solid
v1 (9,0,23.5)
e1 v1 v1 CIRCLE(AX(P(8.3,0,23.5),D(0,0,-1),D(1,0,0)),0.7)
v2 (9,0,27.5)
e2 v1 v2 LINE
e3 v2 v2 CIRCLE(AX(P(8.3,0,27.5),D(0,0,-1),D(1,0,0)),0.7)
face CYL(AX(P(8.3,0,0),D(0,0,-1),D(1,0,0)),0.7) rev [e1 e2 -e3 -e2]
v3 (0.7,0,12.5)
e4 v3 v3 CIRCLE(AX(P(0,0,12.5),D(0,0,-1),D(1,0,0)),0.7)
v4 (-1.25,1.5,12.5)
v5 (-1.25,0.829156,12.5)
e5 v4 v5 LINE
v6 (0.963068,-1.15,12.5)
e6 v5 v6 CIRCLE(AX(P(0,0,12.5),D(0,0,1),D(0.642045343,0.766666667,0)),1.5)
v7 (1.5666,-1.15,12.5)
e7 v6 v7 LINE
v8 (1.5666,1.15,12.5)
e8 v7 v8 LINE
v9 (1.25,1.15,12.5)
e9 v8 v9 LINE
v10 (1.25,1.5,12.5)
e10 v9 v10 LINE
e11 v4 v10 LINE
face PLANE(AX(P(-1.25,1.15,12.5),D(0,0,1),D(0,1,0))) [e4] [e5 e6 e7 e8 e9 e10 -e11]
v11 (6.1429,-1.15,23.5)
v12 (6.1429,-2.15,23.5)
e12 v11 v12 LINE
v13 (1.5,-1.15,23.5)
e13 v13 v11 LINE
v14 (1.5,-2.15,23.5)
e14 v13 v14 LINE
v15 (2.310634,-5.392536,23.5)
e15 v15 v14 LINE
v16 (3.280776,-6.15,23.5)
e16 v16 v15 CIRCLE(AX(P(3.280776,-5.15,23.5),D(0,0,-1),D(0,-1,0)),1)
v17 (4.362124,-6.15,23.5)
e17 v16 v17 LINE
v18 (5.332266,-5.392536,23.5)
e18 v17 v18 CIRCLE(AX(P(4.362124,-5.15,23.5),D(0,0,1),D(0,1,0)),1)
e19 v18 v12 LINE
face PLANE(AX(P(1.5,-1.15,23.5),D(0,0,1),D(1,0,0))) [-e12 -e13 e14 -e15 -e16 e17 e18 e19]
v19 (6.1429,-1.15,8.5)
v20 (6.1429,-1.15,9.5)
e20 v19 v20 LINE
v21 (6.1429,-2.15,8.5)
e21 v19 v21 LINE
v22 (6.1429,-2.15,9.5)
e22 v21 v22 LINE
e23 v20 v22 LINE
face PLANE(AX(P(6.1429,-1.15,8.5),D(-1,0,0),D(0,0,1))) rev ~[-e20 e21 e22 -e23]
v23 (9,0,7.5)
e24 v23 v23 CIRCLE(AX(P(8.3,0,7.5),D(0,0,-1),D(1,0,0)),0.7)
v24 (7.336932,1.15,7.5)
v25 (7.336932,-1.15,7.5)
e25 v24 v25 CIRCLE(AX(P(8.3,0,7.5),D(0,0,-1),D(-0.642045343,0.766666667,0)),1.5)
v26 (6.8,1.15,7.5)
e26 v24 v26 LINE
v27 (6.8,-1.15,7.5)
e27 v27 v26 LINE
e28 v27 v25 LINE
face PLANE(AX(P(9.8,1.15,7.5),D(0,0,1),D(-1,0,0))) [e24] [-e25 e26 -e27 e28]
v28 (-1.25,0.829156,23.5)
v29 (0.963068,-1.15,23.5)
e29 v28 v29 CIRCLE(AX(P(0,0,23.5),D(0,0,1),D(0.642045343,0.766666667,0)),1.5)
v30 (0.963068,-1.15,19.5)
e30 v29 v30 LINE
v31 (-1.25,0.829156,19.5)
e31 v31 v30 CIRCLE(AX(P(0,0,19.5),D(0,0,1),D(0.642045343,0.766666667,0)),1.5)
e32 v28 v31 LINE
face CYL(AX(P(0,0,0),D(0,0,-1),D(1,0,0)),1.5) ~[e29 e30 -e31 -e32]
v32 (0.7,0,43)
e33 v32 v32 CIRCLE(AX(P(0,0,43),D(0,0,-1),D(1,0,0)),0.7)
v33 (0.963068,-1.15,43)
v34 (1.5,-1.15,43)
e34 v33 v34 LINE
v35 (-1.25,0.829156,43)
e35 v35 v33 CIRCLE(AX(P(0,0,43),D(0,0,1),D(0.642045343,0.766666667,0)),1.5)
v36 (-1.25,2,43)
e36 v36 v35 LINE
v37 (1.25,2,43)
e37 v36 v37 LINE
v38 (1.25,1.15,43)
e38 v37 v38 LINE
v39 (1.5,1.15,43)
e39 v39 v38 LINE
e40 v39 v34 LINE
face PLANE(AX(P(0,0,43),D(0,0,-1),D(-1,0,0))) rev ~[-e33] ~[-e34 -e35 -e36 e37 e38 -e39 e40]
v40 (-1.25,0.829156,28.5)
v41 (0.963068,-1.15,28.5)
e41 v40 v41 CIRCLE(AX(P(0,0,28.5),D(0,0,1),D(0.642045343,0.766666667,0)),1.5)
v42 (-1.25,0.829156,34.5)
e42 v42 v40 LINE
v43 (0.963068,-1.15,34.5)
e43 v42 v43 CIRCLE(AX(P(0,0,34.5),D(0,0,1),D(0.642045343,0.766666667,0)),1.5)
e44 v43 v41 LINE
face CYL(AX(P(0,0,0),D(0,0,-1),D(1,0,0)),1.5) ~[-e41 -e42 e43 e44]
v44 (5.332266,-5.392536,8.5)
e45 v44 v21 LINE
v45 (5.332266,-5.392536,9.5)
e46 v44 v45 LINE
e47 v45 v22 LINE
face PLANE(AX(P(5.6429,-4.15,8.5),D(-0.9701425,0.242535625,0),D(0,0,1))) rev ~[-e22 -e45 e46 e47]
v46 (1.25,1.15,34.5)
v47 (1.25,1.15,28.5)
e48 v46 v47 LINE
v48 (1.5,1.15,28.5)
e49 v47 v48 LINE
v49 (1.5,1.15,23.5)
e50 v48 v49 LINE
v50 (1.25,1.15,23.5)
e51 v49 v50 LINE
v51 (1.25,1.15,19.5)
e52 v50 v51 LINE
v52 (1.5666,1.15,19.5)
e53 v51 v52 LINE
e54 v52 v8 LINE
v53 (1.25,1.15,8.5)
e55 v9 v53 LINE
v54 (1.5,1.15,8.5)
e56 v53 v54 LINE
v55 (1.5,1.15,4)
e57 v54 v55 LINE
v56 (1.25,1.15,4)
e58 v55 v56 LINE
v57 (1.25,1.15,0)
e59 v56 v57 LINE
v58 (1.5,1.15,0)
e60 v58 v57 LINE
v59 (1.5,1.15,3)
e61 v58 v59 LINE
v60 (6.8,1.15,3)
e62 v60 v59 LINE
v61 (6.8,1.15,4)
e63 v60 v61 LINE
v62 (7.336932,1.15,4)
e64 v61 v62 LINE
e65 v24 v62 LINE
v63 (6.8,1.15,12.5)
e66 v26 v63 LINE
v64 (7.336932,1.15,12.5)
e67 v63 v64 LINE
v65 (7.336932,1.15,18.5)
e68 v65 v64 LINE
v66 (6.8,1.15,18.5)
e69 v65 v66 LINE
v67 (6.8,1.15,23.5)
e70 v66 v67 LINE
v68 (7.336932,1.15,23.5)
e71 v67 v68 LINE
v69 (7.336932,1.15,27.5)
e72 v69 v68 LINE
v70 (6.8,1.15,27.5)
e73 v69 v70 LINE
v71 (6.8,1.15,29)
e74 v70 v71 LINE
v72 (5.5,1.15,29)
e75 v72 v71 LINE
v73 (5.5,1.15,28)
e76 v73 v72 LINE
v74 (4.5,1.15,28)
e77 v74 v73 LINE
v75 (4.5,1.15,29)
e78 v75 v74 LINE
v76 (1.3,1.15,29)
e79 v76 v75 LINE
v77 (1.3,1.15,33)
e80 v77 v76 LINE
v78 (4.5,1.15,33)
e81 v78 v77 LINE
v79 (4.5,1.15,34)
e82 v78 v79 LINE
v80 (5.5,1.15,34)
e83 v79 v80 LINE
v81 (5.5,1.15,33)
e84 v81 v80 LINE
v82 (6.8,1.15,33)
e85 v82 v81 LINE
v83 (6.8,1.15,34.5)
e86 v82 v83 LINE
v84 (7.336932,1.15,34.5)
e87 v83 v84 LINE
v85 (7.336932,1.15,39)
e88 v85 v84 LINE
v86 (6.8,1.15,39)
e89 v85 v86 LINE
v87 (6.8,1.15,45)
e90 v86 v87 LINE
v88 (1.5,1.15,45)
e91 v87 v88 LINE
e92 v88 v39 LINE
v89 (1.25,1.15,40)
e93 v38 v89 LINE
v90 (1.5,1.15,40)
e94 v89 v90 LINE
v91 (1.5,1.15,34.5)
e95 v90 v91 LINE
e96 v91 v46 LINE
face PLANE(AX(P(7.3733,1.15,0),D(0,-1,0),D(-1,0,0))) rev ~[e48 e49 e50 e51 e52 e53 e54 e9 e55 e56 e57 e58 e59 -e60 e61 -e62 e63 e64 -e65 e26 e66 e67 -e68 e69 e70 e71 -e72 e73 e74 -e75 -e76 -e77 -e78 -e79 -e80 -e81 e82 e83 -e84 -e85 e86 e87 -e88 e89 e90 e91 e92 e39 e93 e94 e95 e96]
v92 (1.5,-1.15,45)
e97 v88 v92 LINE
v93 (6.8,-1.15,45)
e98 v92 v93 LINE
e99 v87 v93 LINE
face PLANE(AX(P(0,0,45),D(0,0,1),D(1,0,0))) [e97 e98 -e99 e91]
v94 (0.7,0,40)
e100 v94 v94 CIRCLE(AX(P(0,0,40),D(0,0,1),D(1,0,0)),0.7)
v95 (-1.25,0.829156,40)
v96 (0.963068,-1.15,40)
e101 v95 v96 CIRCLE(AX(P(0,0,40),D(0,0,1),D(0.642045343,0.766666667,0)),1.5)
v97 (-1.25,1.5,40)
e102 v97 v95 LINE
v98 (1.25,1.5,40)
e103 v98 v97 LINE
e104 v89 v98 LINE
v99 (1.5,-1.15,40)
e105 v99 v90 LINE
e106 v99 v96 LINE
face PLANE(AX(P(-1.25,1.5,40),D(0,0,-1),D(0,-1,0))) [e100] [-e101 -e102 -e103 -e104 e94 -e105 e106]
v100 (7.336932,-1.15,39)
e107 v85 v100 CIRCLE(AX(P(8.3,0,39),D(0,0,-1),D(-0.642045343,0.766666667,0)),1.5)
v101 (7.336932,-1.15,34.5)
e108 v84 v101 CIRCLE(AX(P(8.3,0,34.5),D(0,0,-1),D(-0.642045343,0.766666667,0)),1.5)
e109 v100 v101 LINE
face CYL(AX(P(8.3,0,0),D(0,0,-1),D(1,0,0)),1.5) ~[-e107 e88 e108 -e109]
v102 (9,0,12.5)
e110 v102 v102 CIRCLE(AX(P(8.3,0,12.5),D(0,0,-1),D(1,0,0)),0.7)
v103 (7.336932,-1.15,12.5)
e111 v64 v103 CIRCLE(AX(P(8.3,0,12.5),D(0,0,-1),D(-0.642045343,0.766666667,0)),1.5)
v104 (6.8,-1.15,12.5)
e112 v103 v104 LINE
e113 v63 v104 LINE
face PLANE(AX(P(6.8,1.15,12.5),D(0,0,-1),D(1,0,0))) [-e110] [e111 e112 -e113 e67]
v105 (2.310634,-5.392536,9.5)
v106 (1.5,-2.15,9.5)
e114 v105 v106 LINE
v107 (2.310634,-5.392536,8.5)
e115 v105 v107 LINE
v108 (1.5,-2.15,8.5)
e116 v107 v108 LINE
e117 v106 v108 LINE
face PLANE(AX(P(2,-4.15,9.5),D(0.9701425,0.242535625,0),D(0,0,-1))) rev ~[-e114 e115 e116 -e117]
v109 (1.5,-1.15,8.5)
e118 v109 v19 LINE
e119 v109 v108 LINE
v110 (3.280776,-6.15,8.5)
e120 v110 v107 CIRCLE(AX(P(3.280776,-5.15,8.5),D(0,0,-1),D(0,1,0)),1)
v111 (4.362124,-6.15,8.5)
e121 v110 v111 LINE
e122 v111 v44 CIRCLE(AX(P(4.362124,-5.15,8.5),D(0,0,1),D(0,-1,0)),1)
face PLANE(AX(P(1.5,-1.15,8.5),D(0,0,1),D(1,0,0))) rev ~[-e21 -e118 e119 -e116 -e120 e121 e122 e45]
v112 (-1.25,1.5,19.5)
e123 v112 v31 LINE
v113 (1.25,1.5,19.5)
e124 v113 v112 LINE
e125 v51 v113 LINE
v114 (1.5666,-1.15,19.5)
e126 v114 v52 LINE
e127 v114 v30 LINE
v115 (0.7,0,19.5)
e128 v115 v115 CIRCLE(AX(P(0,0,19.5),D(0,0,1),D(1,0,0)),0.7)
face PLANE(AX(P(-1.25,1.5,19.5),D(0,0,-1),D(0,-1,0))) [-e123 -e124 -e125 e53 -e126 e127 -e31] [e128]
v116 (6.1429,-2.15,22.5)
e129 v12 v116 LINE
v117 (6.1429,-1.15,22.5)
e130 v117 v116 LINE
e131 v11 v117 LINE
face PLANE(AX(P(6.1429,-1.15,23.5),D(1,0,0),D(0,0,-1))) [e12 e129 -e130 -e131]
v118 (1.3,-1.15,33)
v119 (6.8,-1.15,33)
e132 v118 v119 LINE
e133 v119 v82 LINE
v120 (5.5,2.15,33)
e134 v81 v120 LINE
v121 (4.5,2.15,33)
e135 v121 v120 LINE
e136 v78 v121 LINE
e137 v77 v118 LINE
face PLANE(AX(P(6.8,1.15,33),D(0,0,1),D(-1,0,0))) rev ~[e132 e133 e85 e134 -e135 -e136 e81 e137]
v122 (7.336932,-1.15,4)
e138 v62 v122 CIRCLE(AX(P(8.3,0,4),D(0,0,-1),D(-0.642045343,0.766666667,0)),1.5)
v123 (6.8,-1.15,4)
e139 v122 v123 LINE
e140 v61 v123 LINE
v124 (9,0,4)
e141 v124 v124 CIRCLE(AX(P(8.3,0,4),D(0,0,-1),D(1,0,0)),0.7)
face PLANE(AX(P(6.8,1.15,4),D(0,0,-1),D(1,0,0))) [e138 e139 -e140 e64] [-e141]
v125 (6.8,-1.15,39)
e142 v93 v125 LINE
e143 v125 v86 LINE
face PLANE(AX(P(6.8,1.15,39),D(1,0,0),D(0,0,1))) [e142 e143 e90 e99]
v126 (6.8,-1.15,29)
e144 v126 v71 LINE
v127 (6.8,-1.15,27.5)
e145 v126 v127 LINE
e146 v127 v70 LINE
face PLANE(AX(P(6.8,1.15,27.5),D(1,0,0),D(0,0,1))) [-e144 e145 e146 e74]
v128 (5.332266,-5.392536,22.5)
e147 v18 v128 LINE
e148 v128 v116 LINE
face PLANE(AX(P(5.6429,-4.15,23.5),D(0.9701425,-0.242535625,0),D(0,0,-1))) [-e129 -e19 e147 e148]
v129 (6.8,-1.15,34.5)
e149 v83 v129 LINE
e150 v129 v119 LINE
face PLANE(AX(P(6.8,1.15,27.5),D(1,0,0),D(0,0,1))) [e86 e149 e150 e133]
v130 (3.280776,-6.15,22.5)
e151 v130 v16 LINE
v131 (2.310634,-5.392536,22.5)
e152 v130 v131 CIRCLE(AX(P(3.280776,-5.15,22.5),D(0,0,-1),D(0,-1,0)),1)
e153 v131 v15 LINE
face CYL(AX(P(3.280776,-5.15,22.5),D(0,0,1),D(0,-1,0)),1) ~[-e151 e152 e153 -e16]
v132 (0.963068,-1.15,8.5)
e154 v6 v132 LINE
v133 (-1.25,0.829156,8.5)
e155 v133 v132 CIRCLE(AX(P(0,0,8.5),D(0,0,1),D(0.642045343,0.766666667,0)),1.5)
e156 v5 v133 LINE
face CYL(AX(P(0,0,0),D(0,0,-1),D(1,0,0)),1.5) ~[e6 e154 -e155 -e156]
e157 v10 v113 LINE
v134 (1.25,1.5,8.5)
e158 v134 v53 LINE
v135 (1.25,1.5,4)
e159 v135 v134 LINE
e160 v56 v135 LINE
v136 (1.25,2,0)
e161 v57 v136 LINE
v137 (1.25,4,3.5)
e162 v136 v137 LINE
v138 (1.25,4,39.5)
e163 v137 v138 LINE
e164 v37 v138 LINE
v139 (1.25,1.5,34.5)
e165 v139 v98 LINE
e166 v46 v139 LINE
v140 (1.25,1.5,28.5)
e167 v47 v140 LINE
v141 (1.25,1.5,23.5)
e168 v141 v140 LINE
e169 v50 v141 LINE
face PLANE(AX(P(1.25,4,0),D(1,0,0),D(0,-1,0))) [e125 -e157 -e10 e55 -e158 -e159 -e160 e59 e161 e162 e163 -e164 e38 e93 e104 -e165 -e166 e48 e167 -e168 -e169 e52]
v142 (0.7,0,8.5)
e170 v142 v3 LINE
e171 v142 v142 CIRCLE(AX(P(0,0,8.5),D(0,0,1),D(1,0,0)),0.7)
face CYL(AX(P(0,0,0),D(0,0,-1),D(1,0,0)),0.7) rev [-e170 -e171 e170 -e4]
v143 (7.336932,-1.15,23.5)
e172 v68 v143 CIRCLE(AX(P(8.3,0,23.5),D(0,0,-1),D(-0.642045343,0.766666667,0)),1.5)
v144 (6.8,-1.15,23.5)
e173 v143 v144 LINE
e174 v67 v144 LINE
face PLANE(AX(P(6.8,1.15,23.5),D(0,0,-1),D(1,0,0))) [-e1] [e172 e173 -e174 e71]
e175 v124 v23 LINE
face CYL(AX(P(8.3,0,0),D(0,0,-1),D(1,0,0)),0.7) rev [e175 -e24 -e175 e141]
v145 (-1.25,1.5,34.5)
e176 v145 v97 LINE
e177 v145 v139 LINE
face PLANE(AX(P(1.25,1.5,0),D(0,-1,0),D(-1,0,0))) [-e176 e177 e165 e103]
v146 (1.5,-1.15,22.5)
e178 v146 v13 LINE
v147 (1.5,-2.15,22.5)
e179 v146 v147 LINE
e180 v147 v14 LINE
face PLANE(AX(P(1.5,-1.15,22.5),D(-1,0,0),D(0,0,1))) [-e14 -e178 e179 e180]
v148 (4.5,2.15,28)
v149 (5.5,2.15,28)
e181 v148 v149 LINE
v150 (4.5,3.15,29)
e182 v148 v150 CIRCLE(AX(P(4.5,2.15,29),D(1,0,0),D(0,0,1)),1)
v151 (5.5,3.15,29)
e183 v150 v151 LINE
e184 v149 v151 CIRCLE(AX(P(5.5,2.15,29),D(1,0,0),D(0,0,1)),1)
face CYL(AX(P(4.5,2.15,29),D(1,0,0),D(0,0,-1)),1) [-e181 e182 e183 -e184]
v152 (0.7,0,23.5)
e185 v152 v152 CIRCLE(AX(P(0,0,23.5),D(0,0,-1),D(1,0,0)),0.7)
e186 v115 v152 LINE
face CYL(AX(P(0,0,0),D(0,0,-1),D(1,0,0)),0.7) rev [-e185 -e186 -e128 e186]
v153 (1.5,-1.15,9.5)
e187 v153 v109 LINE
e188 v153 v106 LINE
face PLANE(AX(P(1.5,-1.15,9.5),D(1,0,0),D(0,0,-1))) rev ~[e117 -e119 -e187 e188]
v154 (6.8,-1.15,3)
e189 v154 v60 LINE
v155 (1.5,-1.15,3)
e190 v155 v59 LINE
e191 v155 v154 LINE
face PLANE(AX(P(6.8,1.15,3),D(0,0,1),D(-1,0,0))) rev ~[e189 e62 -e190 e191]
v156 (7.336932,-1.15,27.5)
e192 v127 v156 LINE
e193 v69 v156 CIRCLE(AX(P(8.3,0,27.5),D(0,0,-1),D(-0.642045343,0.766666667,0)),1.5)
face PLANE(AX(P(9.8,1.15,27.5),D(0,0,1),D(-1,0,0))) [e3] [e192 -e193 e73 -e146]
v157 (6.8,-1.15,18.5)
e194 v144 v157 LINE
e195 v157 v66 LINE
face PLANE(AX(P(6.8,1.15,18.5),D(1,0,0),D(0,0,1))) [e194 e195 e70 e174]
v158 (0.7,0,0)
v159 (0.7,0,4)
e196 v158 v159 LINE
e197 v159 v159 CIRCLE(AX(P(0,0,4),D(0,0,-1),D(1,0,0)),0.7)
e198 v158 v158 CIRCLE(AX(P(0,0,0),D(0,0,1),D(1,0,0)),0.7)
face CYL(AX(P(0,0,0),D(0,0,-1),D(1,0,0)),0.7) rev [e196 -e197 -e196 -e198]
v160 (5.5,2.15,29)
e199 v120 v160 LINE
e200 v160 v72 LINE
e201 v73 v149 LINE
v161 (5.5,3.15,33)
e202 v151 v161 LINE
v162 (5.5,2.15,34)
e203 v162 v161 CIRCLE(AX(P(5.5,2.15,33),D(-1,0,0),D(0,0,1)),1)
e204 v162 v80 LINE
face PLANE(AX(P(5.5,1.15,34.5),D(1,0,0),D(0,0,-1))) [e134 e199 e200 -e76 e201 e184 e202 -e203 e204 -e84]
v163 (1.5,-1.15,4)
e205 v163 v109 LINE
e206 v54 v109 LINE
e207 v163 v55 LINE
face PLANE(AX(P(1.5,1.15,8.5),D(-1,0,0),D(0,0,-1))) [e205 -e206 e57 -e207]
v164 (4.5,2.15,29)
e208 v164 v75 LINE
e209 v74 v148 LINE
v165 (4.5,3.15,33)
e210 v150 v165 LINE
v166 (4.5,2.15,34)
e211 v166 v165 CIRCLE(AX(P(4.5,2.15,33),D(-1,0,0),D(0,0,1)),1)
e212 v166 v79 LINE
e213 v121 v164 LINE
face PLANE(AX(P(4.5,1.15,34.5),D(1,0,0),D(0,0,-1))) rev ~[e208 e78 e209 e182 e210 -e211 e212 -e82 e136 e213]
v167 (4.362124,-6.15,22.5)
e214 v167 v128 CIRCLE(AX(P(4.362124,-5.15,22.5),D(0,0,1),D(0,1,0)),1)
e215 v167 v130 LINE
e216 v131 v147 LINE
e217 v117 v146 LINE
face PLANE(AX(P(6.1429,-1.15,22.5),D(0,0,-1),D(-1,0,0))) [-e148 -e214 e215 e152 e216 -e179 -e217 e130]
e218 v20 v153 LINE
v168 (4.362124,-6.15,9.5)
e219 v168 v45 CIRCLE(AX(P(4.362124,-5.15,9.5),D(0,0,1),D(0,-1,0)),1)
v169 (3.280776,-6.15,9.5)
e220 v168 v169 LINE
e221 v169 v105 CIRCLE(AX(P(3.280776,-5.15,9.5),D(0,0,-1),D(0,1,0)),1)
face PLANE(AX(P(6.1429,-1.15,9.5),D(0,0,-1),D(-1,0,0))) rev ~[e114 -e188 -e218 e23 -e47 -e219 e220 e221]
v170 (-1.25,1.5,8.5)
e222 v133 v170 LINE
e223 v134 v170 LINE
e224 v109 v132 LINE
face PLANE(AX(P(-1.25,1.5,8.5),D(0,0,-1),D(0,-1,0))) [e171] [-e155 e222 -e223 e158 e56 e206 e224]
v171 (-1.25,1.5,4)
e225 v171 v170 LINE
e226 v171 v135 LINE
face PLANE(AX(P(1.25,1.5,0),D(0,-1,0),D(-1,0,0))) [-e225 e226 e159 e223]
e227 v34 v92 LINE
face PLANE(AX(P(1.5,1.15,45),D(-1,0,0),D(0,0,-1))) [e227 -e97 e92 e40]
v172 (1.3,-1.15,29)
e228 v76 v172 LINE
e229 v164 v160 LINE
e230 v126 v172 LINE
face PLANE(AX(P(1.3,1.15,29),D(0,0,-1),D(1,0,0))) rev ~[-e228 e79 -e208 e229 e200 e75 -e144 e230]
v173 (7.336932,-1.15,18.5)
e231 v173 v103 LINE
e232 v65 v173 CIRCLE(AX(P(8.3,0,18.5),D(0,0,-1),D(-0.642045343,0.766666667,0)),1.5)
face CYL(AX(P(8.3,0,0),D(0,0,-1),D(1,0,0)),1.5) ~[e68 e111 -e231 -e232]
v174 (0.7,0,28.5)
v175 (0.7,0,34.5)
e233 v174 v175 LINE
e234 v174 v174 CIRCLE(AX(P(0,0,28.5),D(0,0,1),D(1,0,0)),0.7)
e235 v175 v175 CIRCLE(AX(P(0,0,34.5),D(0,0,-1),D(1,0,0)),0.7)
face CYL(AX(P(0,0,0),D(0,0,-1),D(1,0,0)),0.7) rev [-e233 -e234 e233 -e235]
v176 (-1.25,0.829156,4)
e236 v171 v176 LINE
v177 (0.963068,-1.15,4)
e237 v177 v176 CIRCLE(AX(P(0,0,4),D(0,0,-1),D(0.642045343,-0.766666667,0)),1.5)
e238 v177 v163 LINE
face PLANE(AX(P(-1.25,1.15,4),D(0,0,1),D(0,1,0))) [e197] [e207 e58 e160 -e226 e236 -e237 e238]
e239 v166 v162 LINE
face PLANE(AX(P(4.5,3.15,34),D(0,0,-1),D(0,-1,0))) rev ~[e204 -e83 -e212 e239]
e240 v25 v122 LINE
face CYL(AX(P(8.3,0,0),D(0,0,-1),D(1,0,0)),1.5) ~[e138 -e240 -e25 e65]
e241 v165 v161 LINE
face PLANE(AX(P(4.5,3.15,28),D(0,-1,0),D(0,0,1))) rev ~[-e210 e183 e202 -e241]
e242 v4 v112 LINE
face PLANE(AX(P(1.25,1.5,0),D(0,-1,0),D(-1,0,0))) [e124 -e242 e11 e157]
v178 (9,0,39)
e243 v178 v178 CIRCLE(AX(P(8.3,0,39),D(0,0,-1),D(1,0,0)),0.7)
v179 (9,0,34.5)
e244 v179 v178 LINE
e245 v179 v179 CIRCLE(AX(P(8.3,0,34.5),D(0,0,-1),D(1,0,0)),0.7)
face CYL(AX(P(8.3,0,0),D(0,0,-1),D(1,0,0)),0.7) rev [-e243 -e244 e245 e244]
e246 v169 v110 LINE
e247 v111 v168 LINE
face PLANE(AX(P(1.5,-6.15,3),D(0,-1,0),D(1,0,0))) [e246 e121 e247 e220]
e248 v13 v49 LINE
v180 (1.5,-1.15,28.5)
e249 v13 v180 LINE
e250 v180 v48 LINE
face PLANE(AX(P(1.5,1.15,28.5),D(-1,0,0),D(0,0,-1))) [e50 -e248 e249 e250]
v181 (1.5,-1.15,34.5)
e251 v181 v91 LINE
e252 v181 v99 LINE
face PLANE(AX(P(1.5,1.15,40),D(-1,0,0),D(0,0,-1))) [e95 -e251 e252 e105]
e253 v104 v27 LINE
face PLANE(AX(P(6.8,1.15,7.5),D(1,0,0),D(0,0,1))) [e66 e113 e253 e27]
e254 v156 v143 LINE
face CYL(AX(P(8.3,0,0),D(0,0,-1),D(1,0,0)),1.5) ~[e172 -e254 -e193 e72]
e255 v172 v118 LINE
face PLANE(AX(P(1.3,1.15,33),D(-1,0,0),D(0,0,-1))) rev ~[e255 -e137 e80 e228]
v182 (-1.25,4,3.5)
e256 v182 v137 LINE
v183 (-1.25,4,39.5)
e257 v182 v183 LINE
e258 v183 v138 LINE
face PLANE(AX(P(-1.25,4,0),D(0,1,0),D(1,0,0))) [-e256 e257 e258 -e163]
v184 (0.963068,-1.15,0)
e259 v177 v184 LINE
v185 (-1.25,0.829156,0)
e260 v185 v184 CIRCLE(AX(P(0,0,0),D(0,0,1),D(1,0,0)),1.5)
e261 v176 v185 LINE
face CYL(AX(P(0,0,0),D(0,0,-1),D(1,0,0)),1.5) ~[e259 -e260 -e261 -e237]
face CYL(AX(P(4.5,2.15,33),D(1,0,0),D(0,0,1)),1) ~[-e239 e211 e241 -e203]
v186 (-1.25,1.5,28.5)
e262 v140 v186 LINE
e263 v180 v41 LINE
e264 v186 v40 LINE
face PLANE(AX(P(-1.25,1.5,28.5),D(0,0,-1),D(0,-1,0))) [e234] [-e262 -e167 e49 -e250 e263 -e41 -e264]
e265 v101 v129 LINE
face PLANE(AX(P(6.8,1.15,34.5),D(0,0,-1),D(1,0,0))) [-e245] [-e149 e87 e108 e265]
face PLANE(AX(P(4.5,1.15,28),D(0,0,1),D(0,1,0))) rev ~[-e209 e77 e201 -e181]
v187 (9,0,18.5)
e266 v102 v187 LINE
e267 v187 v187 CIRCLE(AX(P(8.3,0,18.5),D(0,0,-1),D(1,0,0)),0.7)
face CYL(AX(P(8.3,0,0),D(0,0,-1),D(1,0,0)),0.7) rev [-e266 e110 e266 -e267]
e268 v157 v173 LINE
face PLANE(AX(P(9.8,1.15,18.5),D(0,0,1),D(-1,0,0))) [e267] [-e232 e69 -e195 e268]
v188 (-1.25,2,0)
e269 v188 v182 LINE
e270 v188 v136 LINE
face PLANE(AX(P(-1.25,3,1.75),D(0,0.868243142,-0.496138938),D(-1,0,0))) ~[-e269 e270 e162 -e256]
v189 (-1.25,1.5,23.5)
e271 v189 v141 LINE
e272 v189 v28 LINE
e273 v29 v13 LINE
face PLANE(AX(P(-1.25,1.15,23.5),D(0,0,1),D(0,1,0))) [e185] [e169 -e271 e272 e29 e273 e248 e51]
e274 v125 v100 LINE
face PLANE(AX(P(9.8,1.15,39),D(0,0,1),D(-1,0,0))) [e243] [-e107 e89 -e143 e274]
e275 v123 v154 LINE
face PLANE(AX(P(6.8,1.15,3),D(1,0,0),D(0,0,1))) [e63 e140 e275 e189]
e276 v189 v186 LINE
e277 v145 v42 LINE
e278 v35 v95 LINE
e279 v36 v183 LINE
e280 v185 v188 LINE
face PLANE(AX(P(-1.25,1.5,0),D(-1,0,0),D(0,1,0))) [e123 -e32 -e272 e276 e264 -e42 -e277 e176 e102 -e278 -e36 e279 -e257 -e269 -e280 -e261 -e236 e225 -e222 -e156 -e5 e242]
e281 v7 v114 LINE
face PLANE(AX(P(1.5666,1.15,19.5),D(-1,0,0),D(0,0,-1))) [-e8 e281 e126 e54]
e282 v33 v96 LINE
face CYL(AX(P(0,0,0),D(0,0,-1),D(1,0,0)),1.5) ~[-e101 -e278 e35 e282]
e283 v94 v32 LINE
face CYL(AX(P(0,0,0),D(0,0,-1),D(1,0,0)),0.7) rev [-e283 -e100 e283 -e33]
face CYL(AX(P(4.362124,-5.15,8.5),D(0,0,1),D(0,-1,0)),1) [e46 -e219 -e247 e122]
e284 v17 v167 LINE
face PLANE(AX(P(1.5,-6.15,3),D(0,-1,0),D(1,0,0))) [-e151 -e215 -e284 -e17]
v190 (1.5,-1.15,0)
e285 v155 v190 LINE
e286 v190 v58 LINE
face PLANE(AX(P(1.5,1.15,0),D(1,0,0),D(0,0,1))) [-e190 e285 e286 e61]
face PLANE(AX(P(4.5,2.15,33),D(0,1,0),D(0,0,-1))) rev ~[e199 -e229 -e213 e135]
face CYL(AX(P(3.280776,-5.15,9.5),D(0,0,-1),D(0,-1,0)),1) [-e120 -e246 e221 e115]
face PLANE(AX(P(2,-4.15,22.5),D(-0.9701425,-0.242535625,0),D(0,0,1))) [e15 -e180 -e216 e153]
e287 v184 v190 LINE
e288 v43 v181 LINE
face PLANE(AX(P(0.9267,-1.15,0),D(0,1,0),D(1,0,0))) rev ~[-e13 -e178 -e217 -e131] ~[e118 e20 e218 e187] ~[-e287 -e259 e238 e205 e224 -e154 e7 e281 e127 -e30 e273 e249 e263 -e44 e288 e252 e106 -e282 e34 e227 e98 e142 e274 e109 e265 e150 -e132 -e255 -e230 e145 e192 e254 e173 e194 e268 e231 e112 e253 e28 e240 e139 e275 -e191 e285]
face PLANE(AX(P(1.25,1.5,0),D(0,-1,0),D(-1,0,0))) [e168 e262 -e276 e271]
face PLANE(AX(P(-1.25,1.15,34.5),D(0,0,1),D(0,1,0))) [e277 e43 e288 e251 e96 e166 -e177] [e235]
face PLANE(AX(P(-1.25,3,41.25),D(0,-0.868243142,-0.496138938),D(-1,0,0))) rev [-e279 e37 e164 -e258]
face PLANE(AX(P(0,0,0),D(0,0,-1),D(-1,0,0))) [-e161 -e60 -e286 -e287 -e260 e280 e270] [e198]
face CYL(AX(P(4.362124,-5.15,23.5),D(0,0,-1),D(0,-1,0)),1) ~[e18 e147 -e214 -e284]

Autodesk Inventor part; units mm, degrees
ref_plane "YZ Plane" through (0, 0, 0) normal (1, 0, 0) x (0, 1, 0)
ref_plane "XZ Plane" through (0, 0, 0) normal (0, 1, 0) x (-1, 0, 0)
sketch "Szkic2" plane through (0, 0, 0) normal (0, 0, 1) x (1, 0, 0)
  circle A0 centre (0, 0) radius 1.5
  circle A1 centre (8.3, 0) radius 1.5
  circle A2 centre (0, 0) radius 0.7
  circle A3 centre (8.3, 0) radius 0.7
  dimension "d0" = 3
  dimension "d1" = 8.3
  dimension "d2" = 3
  dimension "d3" = 1.4
  dimension "d4" = 1.4
sketch "Szkic3" plane through (0, 0, 0) normal (0, 0, 1) x (1, 0, 0)
  line L0 (0.9267, -1.15) -> (7.3733, -1.15)
  line L1 (7.3733, -1.15) -> (7.3733, 1.15)
  line L2 (7.3733, 1.15) -> (0.9267, 1.15)
  line L3 (0.9267, 1.15) -> (0.9267, -1.15)
  line L4 (0.9267, -1.15) -> (7.3733, 1.15) construction
  line L5 (7.3733, -1.15) -> (0.9267, 1.15) construction
  point P0 (0, 0)
  point P1 (4.15, 0)
  dimension "d5" = 4.15
  dimension "d6" = 2.3
extrude "Wyciągnięcie proste1" add sketch "Szkic2" along normal blind 45
extrude "Wyciągnięcie proste2" add sketch "Szkic3" along normal blind 45
sketch "Szkic4" plane through (0.9631, 1.15, 0) normal (0, 1, 0) x (1, 0, 0)
  line L0 (8.8369, 0) -> (8.8369, -45) projected
  line L1 (8.8369, 0) -> (8.8369, -3)
  line L2 (8.8369, -3) -> (0.5369, -3)
  line L3 (8.8369, -3) -> (5.8369, -3)
  line L4 (5.8369, -3) -> (5.8369, -4)
  line L5 (5.8369, -4) -> (8.8369, -4)
  line L6 (8.8369, -4) -> (8.8369, -3)
  line L7 (8.8369, -7.5) -> (5.8369, -7.5)
  line L8 (5.8369, -7.5) -> (5.8369, -12.5)
  line L9 (5.8369, -12.5) -> (8.8369, -12.5)
  line L10 (8.8369, -12.5) -> (8.8369, -7.5)
  line L11 (8.8369, -18.5) -> (5.8369, -18.5)
  line L12 (5.8369, -18.5) -> (5.8369, -23.5)
  line L13 (5.8369, -23.5) -> (8.8369, -23.5)
  line L14 (8.8369, -23.5) -> (8.8369, -18.5)
  line L15 (8.8369, -27.5) -> (5.8369, -27.5)
  line L16 (5.8369, -27.5) -> (5.8369, -34.5)
  line L17 (5.8369, -34.5) -> (8.8369, -34.5)
  line L18 (8.8369, -34.5) -> (8.8369, -27.5)
  line L19 (8.8369, -39) -> (5.8369, -39)
  line L20 (5.8369, -39) -> (5.8369, -45)
  line L21 (5.8369, -45) -> (8.8369, -45)
  line L22 (8.8369, -45) -> (8.8369, -39)
  line L23 (0, 0) -> (0, 0)
  line L24 (0, 0) -> (0, -45) projected
  line L25 (0, -45) -> (0, -45) projected
  line L26 (0, 0) -> (0, 0)
  line L27 (0, 0) -> (0, -45) projected
  line L28 (0, -45) -> (0, -45) projected
  line L29 (-2.4631, 0) -> (-2.4631, -45) projected
  line L30 (0, 0) -> (-2.4631, 0) projected
  line L31 (8.8369, 0) -> (6.3739, 0) projected
  line L32 (8.8369, 0) -> (0.5369, 0)
  line L33 (0.5369, 0) -> (0.5369, -3)
  line L34 (6.3739, 0) -> (0, 0) projected
  point P0 (-0.9631, 0)
  dimension "d11" = 3
  dimension "d12" = 5
  dimension "d13" = 3.5
  dimension "d14" = 1
  dimension "d15" = 5
  dimension "d16" = 6
  dimension "d17" = 7
  dimension "d18" = 4
  dimension "d19" = 4.5
  dimension "d20" = 6
  dimension "d21" = 3
  dimension "d22" = 3
  dimension "d23" = 3
  dimension "d24" = 3
  dimension "d26" = 3
  dimension "d27" = 3
extrude "Wyciągnięcie proste3" cut sketch "Szkic4" along normal mid plane 10
sketch "Szkic5" plane through (0.9631, 1.15, 45) normal (0, 1, 0) x (1, 0, 0)
  line L0 (6.3739, 6) -> (5.8369, 6) construction
  line L1 (0.5369, 41) -> (-2.4631, 41)
  line L2 (-2.4631, 41) -> (-2.4631, 36.5)
  line L3 (-2.4631, 36.5) -> (0.5369, 36.5)
  line L4 (0.5369, 36.5) -> (0.5369, 41)
  line L5 (0.6035, 32.5) -> (-2.4631, 32.5)
  line L6 (-2.4631, 32.5) -> (-2.4631, 25.5)
  line L7 (-2.4631, 25.5) -> (0.6035, 25.5)
  line L8 (0.6035, 25.5) -> (0.6035, 32.5)
  line L9 (0.5369, 21.5) -> (-2.4631, 21.5)
  line L10 (-2.4631, 21.5) -> (-2.4631, 16.5)
  line L11 (-2.4631, 16.5) -> (0.5369, 16.5)
  line L12 (0.5369, 16.5) -> (0.5369, 21.5)
  line L13 (0.5369, 10.5) -> (-2.4631, 10.5)
  line L14 (-2.4631, 10.5) -> (-2.4631, 5)
  line L15 (-2.4631, 5) -> (0.5369, 5)
  line L16 (0.5369, 5) -> (0.5369, 10.5)
  line L17 (0.5369, 2) -> (-2.4631, 2)
  line L18 (-2.4631, 2) -> (-2.4631, -1.3428)
  line L19 (-2.4631, -1.3428) -> (0.5369, -1.3428)
  line L20 (0.5369, -1.3428) -> (0.5369, 2)
  line L21 (6.3739, 17.5) -> (5.8369, 17.5) projected
  line L22 (5.8369, 17.5) -> (5.8369, 10.5) projected
  line L23 (5.8369, 10.5) -> (6.3739, 10.5) projected
  line L24 (6.3739, 6) -> (6.3739, 10.5) projected
  line L25 (6.3739, 6) -> (5.8369, 6) projected
  line L26 (5.8369, 6) -> (5.8369, 0) projected
  line L27 (0, 0) -> (5.8369, 0) projected
  line L28 (0, 45) -> (0, 0) projected
  line L29 (0, 45) -> (0.5369, 45) projected
  line L30 (0.5369, 45) -> (0.5369, 42) projected
  line L31 (0.5369, 42) -> (5.8369, 42) projected
  line L32 (5.8369, 42) -> (5.8369, 41) projected
  line L33 (5.8369, 41) -> (6.3739, 41) projected
  line L34 (6.3739, 37.5) -> (6.3739, 41) projected
  line L35 (6.3739, 37.5) -> (5.8369, 37.5) projected
  line L36 (5.8369, 37.5) -> (5.8369, 32.5) projected
  line L37 (5.8369, 32.5) -> (6.3739, 32.5) projected
  line L38 (6.3739, 26.5) -> (6.3739, 32.5) projected
  line L39 (6.3739, 26.5) -> (5.8369, 26.5) projected
  line L40 (5.8369, 26.5) -> (5.8369, 21.5) projected
  line L41 (5.8369, 21.5) -> (6.3739, 21.5) projected
  line L42 (6.3739, 17.5) -> (6.3739, 21.5) projected
  line L43 (5.8369, 12) -> (0.3369, 12)
  line L44 (0.3369, 12) -> (0.3369, 16)
  line L45 (0.3369, 16) -> (5.8369, 16)
  line L46 (5.8369, 16) -> (5.8369, 12)
  line L47 (-2.4631, 0) -> (0, 0) projected
  line L48 (0, 45) -> (-2.4631, 45) projected
  point P0 (-0.9631, 45)
  dimension "d32" = 3
  dimension "d33" = 5.5
  dimension "d34" = 4
  dimension "d35" = 1.5
  dimension "d78" = 5.5
  dimension "d79" = 6
  dimension "d80" = 5
  dimension "d81" = 4
  dimension "d82" = 7
  dimension "d83" = 4
  dimension "d84" = 4.5
  dimension "d85" = 2
  dimension "d86" = 4
extrude "Wyciągnięcie proste4" cut sketch "Szkic5" along normal mid plane 10 contours L4 L3 L28 L1 | L28 L3 L2 L1 | L28 L7 L6 L5 | L5 L8 L7 L28 | L28 L11 L10 L9 | L9 L12 L11 L28 | L28 L15 L14 L13 | L13 L16 L15 L28 | L28 L47 L18 L17 | L17 L20 L27 L28 | L27 L20 L19 L18 L47 | L43 L44 L45 L22
sketch "Szkic6" plane through (0, 0, 0) normal (0, 0, -1) x (-1, 0, 0)
  line L0 (-1, 1.5) -> (1.3193, 1.5) construction
  line L1 (-1.25, 1.5) -> (1.25, 1.5)
  line L2 (1.25, 1.5) -> (1.25, 4)
  line L3 (1.25, 4) -> (-1.25, 4)
  line L4 (-1.25, 4) -> (-1.25, 1.5)
  point P0 (0, 0)
  dimension "d36" = 1.5
  dimension "d37" = 2.5
  dimension "d38" = 2.5
  dimension "d39" = 1.25
extrude "Wyciągnięcie proste5" add sketch "Szkic6" against normal blind 43
chamfer "Faza1" distance 2 distance2 3.5 1 edges at (0, 4, 0) measured on face at (0, 3.1667, 0)
chamfer "Faza2" distance 2 distance2 3.5 1 edges at (0, 4, 43) measured on face at (0, 3.1667, 43)
sketch "Szkic7" plane through (-1.25, 1.5, 0) normal (-1, 0, 0) x (0, 0, 1)
  line L0 (39.5, 2.5) -> (43, 0.5) projected
  line L1 (3.5, 2.5) -> (39.5, 2.5) projected
  line L2 (0, 0.5) -> (3.5, 2.5) projected
  line L3 (0, 0) -> (0, 0.5) projected
  line L4 (0, 0) -> (43, 0) projected
  line L5 (43, 0.5) -> (43, 0) projected
  line L6 (0, 0) -> (4, 0) projected
  line L7 (0, -2.65) -> (0, 0) projected
  line L8 (0, -2.65) -> (4, -2.65) projected
  line L9 (4, -2.65) -> (4, 0) projected
  line L10 (4, 0) -> (4, -0.35) projected
  line L11 (4, -0.35) -> (0, -0.35) projected
  line L12 (0, 0) -> (0, -0.35) projected
  line L13 (8.5, 0) -> (12.5, 0) projected
  line L14 (8.5, 0) -> (8.5, -2.65) projected
  line L15 (8.5, -2.65) -> (12.5, -2.65) projected
  line L16 (12.5, -2.65) -> (12.5, 0) projected
  line L17 (12.5, 0) -> (12.5, -0.35) projected
  line L18 (12.5, -0.35) -> (8.5, -0.35) projected
  line L19 (8.5, -0.35) -> (8.5, 0) projected
  line L20 (19.5, 0) -> (23.5, 0) projected
  line L21 (19.5, 0) -> (19.5, -2.65) projected
  line L22 (19.5, -2.65) -> (23.5, -2.65) projected
  line L23 (23.5, -2.65) -> (23.5, 0) projected
  line L24 (23.5, 0) -> (23.5, -0.35) projected
  line L25 (23.5, -0.35) -> (19.5, -0.35) projected
  line L26 (19.5, -0.35) -> (19.5, 0) projected
  line L27 (28.5, 0) -> (34.5, 0) projected
  line L28 (28.5, 0) -> (28.5, -2.65) projected
  line L29 (28.5, -2.65) -> (34.5, -2.65) projected
  line L30 (34.5, -2.65) -> (34.5, 0) projected
  line L31 (34.5, 0) -> (34.5, -0.35) projected
  line L32 (34.5, -0.35) -> (28.5, -0.35) projected
  line L33 (28.5, -0.35) -> (28.5, 0) projected
  line L34 (40, 0) -> (43, 0) projected
  line L35 (40, 0) -> (40, -2.65) projected
  line L36 (40, -2.65) -> (43, -2.65) projected
  line L37 (43, -2.65) -> (43, 0) projected
  line L38 (43, 0) -> (43, -0.35) projected
  line L39 (43, -0.35) -> (40, -0.35) projected
  line L40 (40, -0.35) -> (40, 0) projected
  line L41 (40, -0.8) -> (43, -0.8) projected
  line L42 (43, -0.8) -> (40, -0.8)
  line L43 (40, -0.8) -> (40, 0)
  line L44 (40, 0) -> (43, 0)
  line L45 (43, 0) -> (43, -0.8)
  line L46 (34.5, -0.8) -> (28.5, -0.8)
  line L47 (28.5, -0.8) -> (28.5, 0)
  line L48 (28.5, 0) -> (34.5, 0)
  line L49 (34.5, 0) -> (34.5, -0.8)
  line L50 (23.5, -2.65) -> (23.5, -0.35) projected
  line L51 (23.5, -0.8) -> (19.5, -0.8)
  line L52 (19.5, -0.8) -> (19.5, 0)
  line L53 (19.5, 0) -> (23.5, 0)
  line L54 (23.5, 0) -> (23.5, -0.8)
  line L55 (12.5, -2.65) -> (12.5, -0.35) projected
  line L56 (12.5, -0.8) -> (8.5, -0.8)
  line L57 (8.5, -0.8) -> (8.5, 0)
  line L58 (8.5, 0) -> (12.5, 0)
  line L59 (12.5, 0) -> (12.5, -0.8)
  line L60 (0, 0) -> (43, 0) projected
  line L61 (4, -0.8) -> (0, -0.8)
  line L62 (0, -0.8) -> (0, 0)
  line L63 (0, 0) -> (4, 0)
  line L64 (4, 0) -> (4, -0.8)
extrude "Wyciągnięcie proste6" add sketch "Szkic7" against normal blind 2.5 contours L37 L39 L35 L4 | L37 L41 L35 L39 | L4 L9 L11 L7 | L30 L32 L28 L4 | L11 L9 L61 L7 | L30 L46 L28 L32 | L4 L16 L18 L14 | L23 L25 L21 L4 | L18 L16 L56 L14 | L23 L51 L21 L25
ref_plane "Płaszczyzna konstrukcyjna1" through (4.5, 1.15, 34.5) normal (1, 0, 0) x (0, 0, -1)
sketch "Szkic8" plane through (4.5, 1.15, 34.5) normal (1, 0, 0) x (0, 0, -1)
  line L0 (5.5, -2.3) -> (1.5, -2.3) projected
  line L1 (5.5, -2.3) -> (5.5, 0) projected
  line L2 (1.5, 0) -> (5.5, 0) projected
  line L3 (1.5, -2.3) -> (1.5, 0) projected
  line L4 (1.5, 0) -> (5.5, 0) projected
  line L5 (1.5, 0) -> (1.5, 1)
  line L6 (1.5, 1) -> (5.5, 1)
  line L7 (5.5, 1) -> (5.5, 0)
  line L8 (5.5, 0) -> (6.5, 0)
  line L9 (6, 0) -> (0, 0) projected
  line L10 (6.5, 0) -> (6.5, 2)
  line L11 (6.5, 2) -> (0.5, 2)
  line L12 (0.5, 2) -> (0.5, 0)
  line L13 (0, 0) -> (1.5, 0) projected
  line L14 (0.5, 0) -> (1.5, 0)
  point P0 (34.5, -1.15)
  dimension "d52" = 1
  dimension "d53" = 1
  dimension "d54" = 2
  dimension "d55" = 6
extrude "Wyciągnięcie proste7" add sketch "Szkic8" along normal blind 1 contours L7 L6 L5 L9 L12 L11 L10 L8
fillet "Zaokrąglenie1" radius 1 2 edges at (5, 3.15, 28) (5, 3.15, 34)
sketch "Szkic9" plane through (1.5, -1.15, 3) normal (0, -1, 0) x (1, 0, 0)
  line L0 (0, 5.5) -> (4.6429, 5.5)
  line L1 (4.6429, 5.5) -> (4.6429, 6.5)
  line L2 (4.6429, 6.5) -> (0, 6.5)
  line L3 (0, 6.5) -> (0, 5.5)
  line L4 (0, 20.5) -> (4.6429, 20.5)
  line L5 (4.6429, 20.5) -> (4.6429, 19.5)
  line L6 (4.6429, 19.5) -> (0, 19.5)
  line L7 (0, 19.5) -> (0, 20.5)
  line L8 (0, 0) -> (5.3, 0) projected
  point P0 (-1.5, -3)
  dimension "d74" = 13
  dimension "d75" = 5.5
  dimension "d76" = 1
  dimension "d77" = 1
extrude "Wyciągnięcie proste8" add sketch "Szkic9" along normal blind 5
chamfer "Faza3" distance 1 distance2 4 1 edges at (1.5, -6.15, 9) measured on face at (3.0476, -6.15, 9.1667)
chamfer "Faza4" distance 1 distance2 4 1 edges at (1.5, -6.15, 23) measured on face at (3.0476, -6.15, 23.1667)
chamfer "Faza5" distance 1 distance2 4 1 edges at (6.1429, -6.15, 23) measured on face at (3.7143, -6.15, 23.1667)
chamfer "Faza6" distance 1 distance2 4 1 edges at (6.1429, -6.15, 9) measured on face at (3.7143, -6.15, 9.1667)
fillet "Zaokrąglenie2" radius 1 4 edges at (2.5, -6.15, 9) (5.1429, -6.15, 9) (2.5, -6.15, 23) (5.1429, -6.15, 23)
sketch "Szkic10" plane through (1.5, -1.15, 23.5) normal (0, 0, 1) x (1, 0, 0)
  point P0 (-1.5, 1.15)
sketch "Szkic11" plane through (6.8, 1.15, 3) normal (0, 0, -1) x (-1, 0, 0)
  circle A0 centre (6.8, -1.15) radius 0.7 projected
  circle A1 centre (-1.5, -1.15) radius 0.7 projected
  dimension "d87" = 8.3
equation "\"d2\" = d0"
equation "\"d4\" = d3"
equation "\"d22\" = d21"
equation "\"d23\" = d22"
equation "\"d24\" = d23"
equation "\"d77\" = d76"
equation "\"dl_ogniwa\" = 9.073"
properties part number "ogniwo"
